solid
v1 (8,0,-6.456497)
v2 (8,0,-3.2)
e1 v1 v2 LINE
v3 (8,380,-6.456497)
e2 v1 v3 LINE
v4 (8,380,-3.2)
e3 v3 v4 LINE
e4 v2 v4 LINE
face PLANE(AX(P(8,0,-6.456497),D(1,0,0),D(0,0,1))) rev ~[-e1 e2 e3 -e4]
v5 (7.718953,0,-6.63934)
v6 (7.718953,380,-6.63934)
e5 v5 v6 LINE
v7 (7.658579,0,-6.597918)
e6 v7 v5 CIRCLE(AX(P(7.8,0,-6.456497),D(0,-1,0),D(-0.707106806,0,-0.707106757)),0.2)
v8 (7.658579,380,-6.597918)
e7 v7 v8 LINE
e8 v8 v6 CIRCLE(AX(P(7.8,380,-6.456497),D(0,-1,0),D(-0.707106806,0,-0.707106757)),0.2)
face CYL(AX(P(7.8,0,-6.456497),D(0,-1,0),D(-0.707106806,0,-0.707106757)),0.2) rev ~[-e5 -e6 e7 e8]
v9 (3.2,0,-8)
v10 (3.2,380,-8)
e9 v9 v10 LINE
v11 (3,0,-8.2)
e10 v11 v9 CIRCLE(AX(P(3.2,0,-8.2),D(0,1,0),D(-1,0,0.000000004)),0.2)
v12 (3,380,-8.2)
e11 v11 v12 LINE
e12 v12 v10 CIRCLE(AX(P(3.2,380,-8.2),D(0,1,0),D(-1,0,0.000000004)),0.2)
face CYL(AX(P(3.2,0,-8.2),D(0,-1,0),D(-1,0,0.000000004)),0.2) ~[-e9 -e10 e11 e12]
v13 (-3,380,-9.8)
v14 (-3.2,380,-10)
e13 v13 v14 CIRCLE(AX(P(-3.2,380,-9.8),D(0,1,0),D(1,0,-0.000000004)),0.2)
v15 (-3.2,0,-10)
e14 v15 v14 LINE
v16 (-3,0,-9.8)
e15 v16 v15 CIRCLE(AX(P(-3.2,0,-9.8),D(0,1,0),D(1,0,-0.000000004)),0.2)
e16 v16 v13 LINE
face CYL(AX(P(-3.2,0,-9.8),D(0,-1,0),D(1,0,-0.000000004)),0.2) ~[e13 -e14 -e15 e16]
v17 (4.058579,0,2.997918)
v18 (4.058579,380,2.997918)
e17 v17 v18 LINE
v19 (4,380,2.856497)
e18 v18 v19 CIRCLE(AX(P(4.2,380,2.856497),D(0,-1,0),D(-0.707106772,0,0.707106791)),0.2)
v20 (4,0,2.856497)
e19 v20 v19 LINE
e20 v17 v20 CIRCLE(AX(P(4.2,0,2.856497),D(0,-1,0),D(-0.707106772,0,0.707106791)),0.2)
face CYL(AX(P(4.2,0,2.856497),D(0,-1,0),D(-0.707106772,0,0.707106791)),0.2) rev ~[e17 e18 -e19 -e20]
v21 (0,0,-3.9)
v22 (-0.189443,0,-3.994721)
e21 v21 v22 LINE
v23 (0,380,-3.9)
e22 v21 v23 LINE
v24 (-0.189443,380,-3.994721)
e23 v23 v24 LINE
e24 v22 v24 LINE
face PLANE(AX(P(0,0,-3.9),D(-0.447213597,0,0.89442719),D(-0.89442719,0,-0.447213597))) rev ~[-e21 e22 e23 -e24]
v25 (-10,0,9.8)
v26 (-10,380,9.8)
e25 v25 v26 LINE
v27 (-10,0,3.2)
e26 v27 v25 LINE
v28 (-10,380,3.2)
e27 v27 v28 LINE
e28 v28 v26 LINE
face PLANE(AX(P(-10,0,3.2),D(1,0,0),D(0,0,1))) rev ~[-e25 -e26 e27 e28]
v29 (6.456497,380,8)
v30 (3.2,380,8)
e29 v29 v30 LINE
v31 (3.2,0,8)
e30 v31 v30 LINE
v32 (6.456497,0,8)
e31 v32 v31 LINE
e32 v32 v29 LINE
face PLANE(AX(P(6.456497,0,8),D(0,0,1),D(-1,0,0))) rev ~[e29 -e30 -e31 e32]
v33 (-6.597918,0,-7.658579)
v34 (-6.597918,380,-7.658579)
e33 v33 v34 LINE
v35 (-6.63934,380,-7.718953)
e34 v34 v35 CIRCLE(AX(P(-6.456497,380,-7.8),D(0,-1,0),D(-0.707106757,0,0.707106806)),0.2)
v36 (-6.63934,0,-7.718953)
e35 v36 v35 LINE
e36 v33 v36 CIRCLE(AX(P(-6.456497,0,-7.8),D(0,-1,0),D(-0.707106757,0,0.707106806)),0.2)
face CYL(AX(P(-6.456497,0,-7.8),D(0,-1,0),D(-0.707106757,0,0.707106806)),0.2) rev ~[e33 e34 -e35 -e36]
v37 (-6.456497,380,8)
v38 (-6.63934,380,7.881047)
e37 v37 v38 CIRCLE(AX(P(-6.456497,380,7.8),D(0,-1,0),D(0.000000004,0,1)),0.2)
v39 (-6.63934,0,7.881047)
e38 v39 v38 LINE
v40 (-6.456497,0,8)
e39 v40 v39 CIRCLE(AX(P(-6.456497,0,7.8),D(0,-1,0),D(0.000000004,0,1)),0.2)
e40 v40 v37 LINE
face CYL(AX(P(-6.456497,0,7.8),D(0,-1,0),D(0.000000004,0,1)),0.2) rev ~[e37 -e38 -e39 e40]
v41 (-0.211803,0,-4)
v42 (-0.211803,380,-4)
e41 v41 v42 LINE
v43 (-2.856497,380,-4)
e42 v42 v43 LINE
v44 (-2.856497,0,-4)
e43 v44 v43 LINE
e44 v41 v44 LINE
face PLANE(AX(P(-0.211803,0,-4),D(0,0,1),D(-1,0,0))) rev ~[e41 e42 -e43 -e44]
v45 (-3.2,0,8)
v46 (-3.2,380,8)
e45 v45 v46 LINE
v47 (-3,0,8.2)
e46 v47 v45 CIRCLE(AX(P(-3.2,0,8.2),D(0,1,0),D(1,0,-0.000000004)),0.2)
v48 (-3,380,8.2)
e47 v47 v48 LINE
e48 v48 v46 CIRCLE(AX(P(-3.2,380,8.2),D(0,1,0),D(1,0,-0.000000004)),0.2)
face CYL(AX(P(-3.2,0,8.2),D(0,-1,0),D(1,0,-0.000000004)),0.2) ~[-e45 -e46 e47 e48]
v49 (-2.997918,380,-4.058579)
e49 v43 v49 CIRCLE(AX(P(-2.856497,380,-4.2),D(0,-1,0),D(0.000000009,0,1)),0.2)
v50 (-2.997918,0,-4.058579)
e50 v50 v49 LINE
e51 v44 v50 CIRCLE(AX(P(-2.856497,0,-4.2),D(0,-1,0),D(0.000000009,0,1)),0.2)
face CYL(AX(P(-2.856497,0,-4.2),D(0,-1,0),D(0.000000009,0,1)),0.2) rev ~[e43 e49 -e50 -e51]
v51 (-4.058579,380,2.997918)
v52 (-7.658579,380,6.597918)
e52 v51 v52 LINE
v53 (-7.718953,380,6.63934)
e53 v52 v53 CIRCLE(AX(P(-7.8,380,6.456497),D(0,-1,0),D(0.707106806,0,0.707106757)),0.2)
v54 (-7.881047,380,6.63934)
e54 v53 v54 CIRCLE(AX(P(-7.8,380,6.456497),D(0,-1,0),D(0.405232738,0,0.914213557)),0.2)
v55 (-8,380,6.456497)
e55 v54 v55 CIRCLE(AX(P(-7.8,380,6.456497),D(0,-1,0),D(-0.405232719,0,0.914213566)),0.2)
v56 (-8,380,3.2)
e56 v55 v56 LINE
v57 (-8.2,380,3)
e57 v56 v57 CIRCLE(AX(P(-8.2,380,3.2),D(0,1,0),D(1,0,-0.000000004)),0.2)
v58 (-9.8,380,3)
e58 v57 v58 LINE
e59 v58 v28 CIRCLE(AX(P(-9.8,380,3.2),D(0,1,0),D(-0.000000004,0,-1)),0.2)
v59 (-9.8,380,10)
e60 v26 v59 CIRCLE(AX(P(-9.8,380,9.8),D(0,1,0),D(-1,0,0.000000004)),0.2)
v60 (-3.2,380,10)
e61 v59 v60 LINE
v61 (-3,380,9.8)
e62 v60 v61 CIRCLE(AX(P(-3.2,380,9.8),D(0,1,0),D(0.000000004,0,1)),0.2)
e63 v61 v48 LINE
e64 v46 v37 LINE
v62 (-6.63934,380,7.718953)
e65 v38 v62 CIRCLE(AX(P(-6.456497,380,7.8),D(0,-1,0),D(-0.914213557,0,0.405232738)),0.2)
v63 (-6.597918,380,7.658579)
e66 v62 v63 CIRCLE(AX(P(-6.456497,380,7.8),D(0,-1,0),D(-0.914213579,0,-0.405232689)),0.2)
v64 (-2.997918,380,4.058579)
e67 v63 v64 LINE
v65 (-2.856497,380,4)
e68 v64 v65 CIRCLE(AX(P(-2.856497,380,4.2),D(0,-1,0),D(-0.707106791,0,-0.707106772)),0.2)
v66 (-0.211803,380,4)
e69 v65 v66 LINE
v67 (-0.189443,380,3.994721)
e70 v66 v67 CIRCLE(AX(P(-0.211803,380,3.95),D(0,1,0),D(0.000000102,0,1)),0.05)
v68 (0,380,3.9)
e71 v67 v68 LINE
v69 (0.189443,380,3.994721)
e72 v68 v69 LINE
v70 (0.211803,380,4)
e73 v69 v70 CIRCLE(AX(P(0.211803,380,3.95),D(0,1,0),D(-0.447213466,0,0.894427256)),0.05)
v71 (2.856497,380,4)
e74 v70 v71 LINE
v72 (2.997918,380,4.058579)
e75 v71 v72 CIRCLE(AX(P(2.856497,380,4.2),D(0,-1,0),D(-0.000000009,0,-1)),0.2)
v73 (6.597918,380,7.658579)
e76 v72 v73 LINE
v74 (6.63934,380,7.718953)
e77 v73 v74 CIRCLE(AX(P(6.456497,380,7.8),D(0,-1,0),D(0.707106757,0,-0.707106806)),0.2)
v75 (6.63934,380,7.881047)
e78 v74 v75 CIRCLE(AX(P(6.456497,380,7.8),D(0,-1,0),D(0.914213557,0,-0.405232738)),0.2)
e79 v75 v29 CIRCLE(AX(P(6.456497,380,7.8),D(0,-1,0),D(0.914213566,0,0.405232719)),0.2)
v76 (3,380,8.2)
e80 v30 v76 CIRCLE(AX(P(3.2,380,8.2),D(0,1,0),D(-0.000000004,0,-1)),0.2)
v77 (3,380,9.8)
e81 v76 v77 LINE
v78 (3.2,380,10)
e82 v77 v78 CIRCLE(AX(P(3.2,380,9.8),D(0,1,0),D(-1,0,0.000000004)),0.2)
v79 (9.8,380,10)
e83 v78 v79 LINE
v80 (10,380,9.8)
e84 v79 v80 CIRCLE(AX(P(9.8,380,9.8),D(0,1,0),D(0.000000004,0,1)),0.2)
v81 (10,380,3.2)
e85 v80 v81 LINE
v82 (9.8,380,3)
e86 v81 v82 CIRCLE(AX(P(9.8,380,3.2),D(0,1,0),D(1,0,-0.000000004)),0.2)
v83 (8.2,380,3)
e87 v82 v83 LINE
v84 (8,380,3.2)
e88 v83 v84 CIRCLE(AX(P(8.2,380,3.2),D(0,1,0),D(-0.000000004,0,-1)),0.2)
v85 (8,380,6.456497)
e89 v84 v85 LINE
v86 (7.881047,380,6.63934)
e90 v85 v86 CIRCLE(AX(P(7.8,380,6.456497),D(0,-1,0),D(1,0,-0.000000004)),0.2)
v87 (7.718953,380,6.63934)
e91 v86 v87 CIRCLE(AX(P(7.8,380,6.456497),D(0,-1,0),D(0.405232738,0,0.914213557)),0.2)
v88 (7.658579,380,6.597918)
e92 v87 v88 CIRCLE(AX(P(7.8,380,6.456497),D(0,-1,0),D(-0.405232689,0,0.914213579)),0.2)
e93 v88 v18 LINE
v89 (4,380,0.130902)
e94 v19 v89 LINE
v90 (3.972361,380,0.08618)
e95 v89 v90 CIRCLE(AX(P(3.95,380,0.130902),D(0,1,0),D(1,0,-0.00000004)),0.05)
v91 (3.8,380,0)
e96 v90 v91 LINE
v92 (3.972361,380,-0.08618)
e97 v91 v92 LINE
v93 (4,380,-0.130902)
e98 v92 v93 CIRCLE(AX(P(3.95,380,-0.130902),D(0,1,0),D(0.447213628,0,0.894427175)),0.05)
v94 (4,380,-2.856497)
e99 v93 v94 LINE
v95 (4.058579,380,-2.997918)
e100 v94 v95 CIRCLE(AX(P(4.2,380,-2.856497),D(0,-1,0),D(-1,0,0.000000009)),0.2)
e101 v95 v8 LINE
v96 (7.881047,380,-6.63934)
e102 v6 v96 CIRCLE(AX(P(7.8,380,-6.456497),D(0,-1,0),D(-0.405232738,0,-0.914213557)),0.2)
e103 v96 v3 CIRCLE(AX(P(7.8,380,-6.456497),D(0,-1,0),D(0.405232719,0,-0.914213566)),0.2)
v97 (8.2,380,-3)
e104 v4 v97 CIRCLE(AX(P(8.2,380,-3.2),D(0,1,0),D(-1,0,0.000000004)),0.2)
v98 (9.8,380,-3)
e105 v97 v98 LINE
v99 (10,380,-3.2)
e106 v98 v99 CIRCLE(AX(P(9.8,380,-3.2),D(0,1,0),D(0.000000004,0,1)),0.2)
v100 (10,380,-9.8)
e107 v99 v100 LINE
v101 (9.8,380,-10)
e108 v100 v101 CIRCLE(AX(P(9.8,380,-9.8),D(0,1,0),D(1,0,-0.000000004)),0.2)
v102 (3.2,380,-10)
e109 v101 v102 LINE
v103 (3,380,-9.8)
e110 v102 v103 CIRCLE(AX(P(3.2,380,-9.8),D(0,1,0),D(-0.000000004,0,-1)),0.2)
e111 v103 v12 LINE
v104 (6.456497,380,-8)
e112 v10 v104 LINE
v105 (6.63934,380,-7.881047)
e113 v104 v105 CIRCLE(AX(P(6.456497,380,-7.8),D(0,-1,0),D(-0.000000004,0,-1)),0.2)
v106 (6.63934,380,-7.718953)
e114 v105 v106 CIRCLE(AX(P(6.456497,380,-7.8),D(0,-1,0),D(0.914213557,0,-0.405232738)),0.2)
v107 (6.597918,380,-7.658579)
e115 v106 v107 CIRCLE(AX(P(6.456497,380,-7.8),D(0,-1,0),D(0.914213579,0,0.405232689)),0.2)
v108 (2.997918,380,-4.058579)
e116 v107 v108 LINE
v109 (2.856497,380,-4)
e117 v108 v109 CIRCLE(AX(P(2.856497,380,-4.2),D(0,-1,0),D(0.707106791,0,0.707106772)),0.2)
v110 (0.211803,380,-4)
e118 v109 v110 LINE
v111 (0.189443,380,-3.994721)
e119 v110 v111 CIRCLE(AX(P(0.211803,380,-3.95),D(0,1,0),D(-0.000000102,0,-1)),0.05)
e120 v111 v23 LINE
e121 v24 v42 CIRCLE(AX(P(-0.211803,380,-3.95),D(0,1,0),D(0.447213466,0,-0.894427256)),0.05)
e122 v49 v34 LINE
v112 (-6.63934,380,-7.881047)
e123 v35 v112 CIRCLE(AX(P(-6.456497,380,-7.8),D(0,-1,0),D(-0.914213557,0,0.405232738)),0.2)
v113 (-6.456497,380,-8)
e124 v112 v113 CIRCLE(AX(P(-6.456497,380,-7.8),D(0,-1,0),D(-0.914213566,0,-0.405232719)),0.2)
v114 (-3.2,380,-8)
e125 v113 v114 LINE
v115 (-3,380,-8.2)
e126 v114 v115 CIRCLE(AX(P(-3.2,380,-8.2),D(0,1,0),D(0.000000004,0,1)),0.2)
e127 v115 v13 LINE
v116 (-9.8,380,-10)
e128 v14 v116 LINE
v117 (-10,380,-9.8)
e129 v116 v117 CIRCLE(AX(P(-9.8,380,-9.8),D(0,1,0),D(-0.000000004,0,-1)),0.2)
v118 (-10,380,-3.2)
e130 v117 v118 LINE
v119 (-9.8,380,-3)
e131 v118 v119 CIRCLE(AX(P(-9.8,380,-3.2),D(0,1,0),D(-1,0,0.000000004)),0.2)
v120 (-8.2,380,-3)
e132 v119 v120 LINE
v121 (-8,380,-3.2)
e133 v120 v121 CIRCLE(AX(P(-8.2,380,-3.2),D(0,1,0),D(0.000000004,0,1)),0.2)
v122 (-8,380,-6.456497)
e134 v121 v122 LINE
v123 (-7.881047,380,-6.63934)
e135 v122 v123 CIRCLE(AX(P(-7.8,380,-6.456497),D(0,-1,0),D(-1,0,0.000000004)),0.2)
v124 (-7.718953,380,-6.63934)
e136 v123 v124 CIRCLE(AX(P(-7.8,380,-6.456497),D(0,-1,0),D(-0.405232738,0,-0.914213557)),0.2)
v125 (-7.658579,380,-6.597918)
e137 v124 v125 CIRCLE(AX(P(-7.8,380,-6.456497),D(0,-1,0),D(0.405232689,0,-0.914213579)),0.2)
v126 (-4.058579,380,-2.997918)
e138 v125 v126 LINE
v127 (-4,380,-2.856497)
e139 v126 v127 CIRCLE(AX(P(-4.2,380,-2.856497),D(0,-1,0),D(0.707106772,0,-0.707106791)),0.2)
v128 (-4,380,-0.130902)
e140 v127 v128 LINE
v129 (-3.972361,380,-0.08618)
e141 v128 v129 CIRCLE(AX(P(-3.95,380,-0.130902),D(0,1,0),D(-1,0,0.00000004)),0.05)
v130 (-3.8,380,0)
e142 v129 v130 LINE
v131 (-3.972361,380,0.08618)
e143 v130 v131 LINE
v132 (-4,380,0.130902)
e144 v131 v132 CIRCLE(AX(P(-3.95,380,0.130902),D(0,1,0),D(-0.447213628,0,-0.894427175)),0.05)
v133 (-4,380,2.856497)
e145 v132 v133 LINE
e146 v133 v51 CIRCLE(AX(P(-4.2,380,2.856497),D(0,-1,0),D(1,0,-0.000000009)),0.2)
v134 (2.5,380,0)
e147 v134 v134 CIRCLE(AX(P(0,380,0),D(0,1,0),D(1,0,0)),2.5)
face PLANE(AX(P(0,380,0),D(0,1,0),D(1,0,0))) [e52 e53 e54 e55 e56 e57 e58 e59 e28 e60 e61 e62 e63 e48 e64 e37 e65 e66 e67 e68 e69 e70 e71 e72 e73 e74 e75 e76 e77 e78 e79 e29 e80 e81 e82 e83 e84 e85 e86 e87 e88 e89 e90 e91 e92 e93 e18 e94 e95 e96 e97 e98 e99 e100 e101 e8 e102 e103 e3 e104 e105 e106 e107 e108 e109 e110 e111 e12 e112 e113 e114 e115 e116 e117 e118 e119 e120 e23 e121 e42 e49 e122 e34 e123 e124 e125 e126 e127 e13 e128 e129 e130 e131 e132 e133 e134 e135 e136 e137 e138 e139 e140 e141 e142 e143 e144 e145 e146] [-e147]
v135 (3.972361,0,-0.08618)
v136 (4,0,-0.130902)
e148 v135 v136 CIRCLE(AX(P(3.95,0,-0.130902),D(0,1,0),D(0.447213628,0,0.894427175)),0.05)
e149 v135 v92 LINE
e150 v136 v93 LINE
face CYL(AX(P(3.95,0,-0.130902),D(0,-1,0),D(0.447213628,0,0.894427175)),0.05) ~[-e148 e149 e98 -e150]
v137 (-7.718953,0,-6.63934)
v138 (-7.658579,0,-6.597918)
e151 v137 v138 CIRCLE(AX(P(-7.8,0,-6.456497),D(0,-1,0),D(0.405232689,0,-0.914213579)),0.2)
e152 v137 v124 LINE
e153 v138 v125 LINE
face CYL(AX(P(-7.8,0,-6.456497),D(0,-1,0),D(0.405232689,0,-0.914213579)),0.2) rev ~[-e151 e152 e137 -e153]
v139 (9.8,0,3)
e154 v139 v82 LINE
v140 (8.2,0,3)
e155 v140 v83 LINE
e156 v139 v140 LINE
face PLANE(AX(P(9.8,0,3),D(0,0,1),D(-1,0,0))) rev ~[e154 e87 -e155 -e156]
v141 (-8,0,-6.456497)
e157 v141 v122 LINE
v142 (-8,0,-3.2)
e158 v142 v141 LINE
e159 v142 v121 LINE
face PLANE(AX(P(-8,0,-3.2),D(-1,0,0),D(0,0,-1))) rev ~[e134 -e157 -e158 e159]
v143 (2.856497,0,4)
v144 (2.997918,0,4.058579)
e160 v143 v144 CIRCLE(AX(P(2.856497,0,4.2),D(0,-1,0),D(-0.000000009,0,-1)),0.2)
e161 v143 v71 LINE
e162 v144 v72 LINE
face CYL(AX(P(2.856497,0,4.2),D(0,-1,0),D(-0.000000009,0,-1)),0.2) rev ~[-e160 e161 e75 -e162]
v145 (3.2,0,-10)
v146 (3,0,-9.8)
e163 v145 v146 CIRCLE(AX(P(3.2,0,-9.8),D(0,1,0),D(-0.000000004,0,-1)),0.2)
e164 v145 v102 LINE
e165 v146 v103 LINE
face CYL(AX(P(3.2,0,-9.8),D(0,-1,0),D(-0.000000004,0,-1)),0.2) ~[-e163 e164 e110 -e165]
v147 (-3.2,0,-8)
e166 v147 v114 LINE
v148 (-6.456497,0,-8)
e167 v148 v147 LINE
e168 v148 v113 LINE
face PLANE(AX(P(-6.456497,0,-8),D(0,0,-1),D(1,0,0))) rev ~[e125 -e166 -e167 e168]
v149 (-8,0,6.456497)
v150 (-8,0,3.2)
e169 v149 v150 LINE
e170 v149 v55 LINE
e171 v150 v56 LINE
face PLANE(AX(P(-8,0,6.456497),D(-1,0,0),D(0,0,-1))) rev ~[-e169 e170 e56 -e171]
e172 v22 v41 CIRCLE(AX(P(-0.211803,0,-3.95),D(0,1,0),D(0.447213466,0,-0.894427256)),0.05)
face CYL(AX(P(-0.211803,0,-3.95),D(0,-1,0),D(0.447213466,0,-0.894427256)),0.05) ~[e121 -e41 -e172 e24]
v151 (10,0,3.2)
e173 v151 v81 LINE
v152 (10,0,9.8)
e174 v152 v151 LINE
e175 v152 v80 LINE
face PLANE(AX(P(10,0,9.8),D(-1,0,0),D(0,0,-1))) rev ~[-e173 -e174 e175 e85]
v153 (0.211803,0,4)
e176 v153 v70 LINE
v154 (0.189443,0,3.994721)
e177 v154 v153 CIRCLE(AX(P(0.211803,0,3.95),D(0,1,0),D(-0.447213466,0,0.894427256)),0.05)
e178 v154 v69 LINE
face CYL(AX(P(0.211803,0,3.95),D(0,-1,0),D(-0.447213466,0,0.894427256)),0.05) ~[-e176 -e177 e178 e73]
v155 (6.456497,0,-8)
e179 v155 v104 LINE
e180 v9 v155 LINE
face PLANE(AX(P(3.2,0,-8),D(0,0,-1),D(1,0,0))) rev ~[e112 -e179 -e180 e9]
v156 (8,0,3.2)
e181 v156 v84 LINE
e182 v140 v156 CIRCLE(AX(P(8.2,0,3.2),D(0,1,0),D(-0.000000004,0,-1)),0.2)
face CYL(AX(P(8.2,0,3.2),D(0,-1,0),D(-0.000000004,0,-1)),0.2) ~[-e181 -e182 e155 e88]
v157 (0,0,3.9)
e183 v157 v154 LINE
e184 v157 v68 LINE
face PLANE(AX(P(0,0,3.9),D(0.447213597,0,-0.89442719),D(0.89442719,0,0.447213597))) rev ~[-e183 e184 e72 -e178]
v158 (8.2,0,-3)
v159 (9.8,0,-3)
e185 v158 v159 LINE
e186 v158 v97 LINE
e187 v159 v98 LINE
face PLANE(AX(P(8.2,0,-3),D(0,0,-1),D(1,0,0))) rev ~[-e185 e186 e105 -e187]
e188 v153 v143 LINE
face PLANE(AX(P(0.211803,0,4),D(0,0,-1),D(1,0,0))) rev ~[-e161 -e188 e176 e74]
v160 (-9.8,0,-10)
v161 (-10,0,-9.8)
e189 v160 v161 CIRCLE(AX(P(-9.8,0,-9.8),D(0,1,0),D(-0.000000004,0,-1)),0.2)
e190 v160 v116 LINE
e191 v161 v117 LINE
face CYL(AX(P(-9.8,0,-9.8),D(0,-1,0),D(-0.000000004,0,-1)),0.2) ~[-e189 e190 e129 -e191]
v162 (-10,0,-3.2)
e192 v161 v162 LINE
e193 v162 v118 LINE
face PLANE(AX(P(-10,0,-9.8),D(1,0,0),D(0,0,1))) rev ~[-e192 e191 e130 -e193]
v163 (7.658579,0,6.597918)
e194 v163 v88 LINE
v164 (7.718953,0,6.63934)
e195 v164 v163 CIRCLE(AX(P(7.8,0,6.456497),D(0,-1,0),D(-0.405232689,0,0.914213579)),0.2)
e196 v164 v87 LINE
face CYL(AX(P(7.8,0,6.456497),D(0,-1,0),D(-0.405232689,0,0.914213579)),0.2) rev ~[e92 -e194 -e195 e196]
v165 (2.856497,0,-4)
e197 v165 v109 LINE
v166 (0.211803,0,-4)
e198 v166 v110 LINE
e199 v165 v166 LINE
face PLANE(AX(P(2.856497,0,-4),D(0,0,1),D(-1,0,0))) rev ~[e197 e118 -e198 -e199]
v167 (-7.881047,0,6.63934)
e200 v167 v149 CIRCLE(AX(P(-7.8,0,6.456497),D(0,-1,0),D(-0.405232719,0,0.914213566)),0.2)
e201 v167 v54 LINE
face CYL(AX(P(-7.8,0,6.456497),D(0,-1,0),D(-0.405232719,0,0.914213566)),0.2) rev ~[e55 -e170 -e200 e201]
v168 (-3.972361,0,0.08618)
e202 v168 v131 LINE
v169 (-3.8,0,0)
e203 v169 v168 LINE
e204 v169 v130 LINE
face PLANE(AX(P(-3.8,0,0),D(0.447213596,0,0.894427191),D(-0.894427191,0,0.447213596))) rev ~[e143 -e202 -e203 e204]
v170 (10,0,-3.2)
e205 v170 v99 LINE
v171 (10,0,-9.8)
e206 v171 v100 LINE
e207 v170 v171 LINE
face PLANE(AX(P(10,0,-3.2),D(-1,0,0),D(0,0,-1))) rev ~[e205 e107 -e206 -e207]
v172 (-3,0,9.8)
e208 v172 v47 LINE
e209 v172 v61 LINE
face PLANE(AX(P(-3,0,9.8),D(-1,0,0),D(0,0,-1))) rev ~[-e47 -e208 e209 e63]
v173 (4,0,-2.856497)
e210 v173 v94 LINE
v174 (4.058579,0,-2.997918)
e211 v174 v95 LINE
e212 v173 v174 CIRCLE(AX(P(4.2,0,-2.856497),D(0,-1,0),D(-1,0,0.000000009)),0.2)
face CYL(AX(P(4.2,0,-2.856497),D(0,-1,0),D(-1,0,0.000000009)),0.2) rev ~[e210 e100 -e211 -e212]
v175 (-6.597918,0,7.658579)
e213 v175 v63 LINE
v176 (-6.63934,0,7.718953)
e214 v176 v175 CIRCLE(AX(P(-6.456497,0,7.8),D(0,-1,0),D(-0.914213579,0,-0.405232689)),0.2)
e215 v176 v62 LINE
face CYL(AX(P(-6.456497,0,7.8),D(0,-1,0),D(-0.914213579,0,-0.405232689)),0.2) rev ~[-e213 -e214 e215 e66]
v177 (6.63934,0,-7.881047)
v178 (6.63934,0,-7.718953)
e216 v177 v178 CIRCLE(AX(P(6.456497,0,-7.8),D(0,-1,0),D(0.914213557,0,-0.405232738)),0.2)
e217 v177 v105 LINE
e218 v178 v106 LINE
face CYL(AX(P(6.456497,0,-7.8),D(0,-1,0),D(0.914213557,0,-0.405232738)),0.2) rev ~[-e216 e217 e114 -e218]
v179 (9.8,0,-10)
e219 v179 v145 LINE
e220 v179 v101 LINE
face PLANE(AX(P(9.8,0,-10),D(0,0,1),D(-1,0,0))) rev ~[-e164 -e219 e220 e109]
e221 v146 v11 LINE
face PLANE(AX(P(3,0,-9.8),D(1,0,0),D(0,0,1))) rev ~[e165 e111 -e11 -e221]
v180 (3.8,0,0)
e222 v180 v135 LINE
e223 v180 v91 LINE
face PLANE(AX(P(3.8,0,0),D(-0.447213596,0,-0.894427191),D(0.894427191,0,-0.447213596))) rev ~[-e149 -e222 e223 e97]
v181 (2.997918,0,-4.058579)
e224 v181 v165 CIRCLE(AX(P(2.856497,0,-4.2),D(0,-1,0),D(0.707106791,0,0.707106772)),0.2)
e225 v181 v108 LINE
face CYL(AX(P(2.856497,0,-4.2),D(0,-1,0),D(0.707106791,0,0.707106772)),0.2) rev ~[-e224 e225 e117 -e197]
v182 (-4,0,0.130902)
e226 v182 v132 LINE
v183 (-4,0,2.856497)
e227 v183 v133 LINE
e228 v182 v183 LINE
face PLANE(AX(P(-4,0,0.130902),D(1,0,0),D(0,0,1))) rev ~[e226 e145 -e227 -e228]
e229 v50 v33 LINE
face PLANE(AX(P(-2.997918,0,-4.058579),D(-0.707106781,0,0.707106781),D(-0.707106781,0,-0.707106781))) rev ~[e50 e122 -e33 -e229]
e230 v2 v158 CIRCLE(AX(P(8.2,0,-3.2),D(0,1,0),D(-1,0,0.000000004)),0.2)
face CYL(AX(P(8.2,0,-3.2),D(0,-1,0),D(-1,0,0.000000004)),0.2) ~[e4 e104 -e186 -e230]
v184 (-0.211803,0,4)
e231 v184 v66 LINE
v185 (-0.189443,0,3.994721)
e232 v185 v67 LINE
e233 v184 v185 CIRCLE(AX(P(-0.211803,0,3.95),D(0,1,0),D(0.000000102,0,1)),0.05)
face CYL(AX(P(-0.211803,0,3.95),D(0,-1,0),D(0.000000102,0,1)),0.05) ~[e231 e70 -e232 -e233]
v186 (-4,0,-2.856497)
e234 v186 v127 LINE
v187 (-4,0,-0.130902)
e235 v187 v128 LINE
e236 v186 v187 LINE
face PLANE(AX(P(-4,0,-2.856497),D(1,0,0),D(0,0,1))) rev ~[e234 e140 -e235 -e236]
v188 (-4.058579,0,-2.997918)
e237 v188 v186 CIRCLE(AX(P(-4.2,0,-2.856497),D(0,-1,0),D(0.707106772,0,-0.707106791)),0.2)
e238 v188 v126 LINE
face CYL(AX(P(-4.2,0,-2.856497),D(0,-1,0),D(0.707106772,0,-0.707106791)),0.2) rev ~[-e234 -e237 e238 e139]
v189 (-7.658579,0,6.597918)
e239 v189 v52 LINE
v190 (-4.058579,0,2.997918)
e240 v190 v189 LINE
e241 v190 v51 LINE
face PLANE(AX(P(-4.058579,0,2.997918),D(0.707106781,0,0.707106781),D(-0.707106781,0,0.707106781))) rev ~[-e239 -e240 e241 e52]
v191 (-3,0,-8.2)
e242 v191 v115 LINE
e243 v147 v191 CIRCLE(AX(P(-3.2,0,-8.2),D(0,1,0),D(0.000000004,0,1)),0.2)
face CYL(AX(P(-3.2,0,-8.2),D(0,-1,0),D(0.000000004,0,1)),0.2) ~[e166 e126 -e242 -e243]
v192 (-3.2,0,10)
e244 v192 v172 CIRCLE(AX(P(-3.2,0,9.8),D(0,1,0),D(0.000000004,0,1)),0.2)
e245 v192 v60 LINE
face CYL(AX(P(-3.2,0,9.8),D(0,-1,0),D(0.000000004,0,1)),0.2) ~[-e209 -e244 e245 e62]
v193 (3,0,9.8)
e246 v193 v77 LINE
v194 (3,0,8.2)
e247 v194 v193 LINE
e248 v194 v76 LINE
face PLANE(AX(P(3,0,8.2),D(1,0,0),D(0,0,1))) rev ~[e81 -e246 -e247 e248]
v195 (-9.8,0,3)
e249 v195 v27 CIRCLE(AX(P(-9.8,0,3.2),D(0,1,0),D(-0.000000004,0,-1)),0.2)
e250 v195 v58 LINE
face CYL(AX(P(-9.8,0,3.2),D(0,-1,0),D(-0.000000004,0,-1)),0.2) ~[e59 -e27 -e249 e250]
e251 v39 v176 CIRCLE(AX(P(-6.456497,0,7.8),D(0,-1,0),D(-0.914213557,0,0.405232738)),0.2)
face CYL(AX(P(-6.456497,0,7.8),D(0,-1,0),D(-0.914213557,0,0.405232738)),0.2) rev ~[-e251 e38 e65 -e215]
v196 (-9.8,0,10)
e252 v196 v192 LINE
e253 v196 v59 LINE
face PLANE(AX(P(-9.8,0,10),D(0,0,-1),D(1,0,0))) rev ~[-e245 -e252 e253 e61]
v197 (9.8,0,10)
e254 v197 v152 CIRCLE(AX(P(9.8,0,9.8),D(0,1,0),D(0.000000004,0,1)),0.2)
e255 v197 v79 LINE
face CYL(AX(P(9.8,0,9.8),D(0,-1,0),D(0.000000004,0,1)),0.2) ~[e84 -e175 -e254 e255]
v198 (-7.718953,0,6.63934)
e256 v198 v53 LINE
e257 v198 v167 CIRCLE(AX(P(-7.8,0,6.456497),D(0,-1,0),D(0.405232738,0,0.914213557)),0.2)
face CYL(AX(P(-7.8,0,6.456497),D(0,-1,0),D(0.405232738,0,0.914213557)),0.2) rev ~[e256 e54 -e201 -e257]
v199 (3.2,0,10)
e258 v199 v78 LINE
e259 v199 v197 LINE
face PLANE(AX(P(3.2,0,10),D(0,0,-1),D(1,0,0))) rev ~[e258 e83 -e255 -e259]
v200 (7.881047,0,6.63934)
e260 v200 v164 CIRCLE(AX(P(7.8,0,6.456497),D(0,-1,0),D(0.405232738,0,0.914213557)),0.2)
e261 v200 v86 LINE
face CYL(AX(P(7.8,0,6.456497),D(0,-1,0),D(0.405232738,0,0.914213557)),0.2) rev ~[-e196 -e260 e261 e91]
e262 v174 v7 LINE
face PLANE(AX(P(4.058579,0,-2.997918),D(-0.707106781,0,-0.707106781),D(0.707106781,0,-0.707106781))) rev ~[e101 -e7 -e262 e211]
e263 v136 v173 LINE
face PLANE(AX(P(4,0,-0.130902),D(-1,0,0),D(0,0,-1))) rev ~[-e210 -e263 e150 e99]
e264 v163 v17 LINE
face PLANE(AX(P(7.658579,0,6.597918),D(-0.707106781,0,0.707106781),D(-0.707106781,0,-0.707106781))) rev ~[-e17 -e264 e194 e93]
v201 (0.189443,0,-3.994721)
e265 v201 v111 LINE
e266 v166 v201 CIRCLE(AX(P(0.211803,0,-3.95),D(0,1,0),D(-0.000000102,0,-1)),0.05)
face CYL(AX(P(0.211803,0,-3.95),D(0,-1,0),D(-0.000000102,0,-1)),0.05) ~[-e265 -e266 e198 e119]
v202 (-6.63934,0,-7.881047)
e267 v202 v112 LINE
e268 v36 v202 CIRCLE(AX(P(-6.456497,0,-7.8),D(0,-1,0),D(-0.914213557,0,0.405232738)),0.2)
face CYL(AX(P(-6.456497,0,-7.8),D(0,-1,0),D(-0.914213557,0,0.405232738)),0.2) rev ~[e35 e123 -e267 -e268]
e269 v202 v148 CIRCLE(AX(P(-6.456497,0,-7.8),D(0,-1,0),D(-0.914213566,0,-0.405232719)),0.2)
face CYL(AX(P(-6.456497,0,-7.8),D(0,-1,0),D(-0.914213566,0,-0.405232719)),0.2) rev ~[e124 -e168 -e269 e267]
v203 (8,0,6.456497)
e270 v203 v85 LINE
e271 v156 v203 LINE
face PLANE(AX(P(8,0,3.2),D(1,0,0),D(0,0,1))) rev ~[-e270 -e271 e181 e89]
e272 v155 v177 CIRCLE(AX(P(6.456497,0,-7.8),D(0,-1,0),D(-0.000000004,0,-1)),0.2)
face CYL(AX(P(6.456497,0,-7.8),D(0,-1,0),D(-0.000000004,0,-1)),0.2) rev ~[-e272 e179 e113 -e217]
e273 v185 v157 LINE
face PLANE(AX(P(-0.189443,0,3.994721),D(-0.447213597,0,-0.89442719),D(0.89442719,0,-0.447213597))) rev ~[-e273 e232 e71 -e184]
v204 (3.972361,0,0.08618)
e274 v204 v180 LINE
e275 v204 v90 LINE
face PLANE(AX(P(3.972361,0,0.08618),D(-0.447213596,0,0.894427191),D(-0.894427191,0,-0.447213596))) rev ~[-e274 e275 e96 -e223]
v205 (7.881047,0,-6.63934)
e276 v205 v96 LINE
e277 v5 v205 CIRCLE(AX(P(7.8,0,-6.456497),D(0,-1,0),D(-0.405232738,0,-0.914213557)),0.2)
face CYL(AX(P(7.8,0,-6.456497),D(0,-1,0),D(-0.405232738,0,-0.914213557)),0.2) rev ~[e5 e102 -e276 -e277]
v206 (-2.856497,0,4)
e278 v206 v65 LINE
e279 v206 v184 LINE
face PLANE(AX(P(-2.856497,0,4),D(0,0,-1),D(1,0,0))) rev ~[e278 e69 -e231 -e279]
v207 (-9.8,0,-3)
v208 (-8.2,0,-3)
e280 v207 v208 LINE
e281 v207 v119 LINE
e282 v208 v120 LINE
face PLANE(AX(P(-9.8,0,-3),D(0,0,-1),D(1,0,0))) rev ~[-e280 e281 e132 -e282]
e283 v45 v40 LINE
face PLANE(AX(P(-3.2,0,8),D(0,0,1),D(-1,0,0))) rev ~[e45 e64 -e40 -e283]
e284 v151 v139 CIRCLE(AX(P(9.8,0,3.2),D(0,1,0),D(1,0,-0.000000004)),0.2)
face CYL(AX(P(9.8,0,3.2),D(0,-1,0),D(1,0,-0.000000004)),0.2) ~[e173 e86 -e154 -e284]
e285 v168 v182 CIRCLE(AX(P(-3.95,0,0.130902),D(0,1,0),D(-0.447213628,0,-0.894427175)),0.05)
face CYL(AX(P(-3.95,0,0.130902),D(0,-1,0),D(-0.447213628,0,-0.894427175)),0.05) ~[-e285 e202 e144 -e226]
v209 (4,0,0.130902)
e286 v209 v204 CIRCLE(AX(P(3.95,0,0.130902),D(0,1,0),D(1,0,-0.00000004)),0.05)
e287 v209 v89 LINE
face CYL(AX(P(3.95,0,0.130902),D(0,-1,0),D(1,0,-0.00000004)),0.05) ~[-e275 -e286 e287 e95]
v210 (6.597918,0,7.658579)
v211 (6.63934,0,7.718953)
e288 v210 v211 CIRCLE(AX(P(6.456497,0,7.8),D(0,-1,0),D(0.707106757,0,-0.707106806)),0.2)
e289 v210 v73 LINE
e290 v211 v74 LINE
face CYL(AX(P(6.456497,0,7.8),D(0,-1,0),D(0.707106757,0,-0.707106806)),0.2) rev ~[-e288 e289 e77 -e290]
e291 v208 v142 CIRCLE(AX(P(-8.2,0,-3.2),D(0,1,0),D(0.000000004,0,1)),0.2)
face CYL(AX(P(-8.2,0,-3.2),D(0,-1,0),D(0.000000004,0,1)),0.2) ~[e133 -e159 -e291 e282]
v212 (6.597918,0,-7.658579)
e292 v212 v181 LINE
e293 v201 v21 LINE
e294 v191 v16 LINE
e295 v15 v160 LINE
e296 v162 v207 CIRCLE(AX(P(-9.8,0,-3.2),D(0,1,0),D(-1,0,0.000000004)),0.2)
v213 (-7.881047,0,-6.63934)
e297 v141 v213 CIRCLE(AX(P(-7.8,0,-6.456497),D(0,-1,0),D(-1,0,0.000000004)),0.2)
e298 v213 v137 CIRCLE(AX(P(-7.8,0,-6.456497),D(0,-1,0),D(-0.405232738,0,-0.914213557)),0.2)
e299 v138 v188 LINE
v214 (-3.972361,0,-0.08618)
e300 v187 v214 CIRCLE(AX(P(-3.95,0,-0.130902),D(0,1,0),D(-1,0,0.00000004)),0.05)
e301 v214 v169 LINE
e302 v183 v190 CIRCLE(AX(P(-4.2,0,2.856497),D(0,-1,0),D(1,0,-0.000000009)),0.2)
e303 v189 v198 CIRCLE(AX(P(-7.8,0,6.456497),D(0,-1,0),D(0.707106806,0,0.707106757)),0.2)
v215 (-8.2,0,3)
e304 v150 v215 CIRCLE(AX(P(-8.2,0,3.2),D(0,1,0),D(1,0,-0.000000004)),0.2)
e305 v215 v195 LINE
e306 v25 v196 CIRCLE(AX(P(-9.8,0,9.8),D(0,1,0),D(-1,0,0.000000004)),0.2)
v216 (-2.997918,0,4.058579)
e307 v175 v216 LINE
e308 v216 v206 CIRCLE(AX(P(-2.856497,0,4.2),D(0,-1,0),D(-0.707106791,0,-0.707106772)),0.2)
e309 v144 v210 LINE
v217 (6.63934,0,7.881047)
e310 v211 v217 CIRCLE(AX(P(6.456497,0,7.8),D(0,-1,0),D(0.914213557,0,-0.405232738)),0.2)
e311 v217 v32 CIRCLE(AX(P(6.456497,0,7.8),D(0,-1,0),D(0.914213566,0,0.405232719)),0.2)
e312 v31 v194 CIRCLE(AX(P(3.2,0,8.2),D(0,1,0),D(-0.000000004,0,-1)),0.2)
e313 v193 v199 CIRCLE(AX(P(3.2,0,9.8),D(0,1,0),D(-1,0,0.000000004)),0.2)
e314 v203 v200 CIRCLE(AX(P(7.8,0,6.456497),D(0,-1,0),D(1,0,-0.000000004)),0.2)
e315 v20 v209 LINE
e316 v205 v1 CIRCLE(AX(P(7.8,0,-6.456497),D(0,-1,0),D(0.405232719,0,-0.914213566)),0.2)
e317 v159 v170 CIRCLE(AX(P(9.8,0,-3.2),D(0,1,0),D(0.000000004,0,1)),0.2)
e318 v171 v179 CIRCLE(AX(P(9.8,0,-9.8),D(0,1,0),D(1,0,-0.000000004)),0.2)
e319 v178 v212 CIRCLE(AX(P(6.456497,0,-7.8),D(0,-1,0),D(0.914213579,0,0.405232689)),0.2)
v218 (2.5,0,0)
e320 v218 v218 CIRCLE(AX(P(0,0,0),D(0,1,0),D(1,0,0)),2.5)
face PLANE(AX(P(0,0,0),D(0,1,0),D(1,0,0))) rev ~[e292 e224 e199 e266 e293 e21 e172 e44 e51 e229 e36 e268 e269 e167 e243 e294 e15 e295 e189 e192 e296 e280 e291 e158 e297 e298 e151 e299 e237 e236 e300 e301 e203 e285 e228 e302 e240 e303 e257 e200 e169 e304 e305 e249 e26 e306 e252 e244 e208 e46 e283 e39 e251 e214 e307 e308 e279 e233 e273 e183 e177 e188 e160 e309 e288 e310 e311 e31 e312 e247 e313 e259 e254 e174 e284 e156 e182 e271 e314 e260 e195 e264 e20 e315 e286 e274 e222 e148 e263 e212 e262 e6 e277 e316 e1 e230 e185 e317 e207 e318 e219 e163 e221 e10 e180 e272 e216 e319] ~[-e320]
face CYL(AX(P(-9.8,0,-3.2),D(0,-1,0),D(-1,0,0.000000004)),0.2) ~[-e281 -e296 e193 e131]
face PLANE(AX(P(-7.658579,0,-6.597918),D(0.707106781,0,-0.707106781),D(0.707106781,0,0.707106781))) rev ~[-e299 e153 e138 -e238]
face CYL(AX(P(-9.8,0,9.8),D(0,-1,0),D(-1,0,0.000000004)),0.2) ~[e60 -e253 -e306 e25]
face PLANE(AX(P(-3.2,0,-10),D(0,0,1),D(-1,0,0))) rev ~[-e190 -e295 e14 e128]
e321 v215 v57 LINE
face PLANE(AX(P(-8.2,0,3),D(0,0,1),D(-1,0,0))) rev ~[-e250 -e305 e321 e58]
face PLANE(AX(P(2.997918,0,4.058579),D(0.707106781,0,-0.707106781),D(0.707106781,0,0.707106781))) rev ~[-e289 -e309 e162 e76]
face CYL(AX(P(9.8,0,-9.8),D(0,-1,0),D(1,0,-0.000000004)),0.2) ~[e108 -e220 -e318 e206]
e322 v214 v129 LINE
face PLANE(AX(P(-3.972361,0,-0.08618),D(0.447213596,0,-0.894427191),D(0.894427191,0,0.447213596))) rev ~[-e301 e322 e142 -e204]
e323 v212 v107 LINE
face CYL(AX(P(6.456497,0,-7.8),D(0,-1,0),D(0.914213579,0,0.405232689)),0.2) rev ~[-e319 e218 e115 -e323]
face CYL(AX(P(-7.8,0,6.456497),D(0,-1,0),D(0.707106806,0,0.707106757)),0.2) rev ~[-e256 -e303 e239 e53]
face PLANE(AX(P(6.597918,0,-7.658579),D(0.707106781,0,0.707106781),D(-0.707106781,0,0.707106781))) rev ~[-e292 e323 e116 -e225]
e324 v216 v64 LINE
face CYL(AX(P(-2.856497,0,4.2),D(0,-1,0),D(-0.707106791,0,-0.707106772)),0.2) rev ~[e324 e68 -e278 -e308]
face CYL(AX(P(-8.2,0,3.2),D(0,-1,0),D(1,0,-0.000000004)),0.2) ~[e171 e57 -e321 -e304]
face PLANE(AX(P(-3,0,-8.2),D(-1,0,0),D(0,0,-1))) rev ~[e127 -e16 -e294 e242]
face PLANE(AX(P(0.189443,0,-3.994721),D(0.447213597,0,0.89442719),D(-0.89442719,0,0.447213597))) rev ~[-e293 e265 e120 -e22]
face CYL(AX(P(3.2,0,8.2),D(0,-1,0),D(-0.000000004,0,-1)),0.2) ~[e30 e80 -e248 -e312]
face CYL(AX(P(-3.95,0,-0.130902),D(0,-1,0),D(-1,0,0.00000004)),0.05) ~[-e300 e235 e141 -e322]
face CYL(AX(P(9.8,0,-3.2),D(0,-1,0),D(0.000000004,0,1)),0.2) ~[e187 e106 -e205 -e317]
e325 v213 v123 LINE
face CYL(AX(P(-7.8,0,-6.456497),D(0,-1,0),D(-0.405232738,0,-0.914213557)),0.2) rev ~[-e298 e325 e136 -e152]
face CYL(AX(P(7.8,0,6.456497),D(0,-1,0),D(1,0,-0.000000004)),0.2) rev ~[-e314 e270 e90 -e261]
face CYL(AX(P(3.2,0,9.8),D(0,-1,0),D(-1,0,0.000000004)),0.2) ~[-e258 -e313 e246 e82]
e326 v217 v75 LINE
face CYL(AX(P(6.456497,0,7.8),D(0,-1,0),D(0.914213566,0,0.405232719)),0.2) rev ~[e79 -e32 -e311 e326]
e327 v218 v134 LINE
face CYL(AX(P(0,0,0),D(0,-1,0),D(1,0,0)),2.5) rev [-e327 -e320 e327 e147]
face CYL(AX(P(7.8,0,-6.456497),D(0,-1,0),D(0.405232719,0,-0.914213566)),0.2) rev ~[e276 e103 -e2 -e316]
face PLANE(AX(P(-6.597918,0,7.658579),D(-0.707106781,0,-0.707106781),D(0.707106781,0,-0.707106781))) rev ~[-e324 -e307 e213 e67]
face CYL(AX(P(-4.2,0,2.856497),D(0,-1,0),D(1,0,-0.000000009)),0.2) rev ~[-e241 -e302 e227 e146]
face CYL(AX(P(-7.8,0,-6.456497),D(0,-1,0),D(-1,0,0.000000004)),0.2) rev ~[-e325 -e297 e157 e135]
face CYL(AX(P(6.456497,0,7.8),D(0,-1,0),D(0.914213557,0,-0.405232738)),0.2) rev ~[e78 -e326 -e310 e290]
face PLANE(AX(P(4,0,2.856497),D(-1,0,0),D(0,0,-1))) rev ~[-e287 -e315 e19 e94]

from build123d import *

# Parameters (mm, degrees)
SKETCH1_R           = 2.5
BOSS_EXTRUDE1_DEPTH = 380


with BuildPart() as part:
    # Sketch1 → Boss-Extrude1 (new body)
    with BuildSketch(Plane(origin=(0, 0, 0), x_dir=(1, 0, 0), z_dir=(0, 1, 0))):
        with BuildLine():
            Line((-2.997918472, 4.058578644), (-6.597918472, 7.658578644))
            ThreePointArc((-6.597918472, 7.658578644), (-6.621415508, 7.686854412), (-6.639339828, 7.718953455))
            ThreePointArc((-6.639339828, 7.718953455), (-6.656497116, 7.8), (-6.639339828, 7.881046545))
            ThreePointArc((-6.639339828, 7.881046545), (-6.565562901, 7.967644429), (-6.456497116, 8))
            Line((-6.456497116, 8), (-3.2, 8))
            ThreePointArc((-3.2, 8), (-3.058578644, 8.058578644), (-3, 8.2))
            Line((-3, 8.2), (-3, 9.8))
            ThreePointArc((-3, 9.8), (-3.058578644, 9.941421356), (-3.2, 10))
            Line((-3.2, 10), (-9.8, 10))
            ThreePointArc((-9.8, 10), (-9.941421356, 9.941421356), (-10, 9.8))
            Line((-10, 9.8), (-10, 3.2))
            ThreePointArc((-10, 3.2), (-9.941421356, 3.058578644), (-9.8, 3))
            Line((-9.8, 3), (-8.2, 3))
            ThreePointArc((-8.2, 3), (-8.058578644, 3.058578644), (-8, 3.2))
            Line((-8, 3.2), (-8, 6.456497116))
            ThreePointArc((-8, 6.456497116), (-7.967644429, 6.565562901), (-7.881046545, 6.639339828))
            ThreePointArc((-7.881046545, 6.639339828), (-7.8, 6.656497116), (-7.718953455, 6.639339828))
            ThreePointArc((-7.718953455, 6.639339828), (-7.686854412, 6.621415508), (-7.658578644, 6.597918472))
            Line((-7.658578644, 6.597918472), (-4.058578644, 2.997918472))
            ThreePointArc((-4.058578644, 2.997918472), (-4.015224093, 2.933033802), (-4, 2.856497116))
            Line((-4, 2.856497116), (-4, 0.130901699))
            ThreePointArc((-4, 0.130901699), (-3.99253254, 0.104615144), (-3.97236068, 0.08618034))
            Line((-3.97236068, 0.08618034), (-3.8, 0))
            Line((-3.8, 0), (-3.97236068, -0.08618034))
            ThreePointArc((-3.97236068, -0.08618034), (-3.99253254, -0.104615144), (-4, -0.130901699))
            Line((-4, -0.130901699), (-4, -2.856497116))
            ThreePointArc((-4, -2.856497116), (-4.015224093, -2.933033802), (-4.058578644, -2.997918472))
            Line((-4.058578644, -2.997918472), (-7.658578644, -6.597918472))
            ThreePointArc((-7.658578644, -6.597918472), (-7.686854412, -6.621415508), (-7.718953455, -6.639339828))
            ThreePointArc((-7.718953455, -6.639339828), (-7.8, -6.656497116), (-7.881046545, -6.639339828))
            ThreePointArc((-7.881046545, -6.639339828), (-7.967644429, -6.565562901), (-8, -6.456497116))
            Line((-8, -6.456497116), (-8, -3.2))
            ThreePointArc((-8, -3.2), (-8.058578644, -3.058578644), (-8.2, -3))
            Line((-8.2, -3), (-9.8, -3))
            ThreePointArc((-9.8, -3), (-9.941421356, -3.058578644), (-10, -3.2))
            Line((-10, -3.2), (-10, -9.8))
            ThreePointArc((-10, -9.8), (-9.941421356, -9.941421356), (-9.8, -10))
            Line((-9.8, -10), (-3.2, -10))
            ThreePointArc((-3.2, -10), (-3.058578644, -9.941421356), (-3, -9.8))
            Line((-3, -9.8), (-3, -8.2))
            ThreePointArc((-3, -8.2), (-3.058578644, -8.058578644), (-3.2, -8))
            Line((-3.2, -8), (-6.456497116, -8))
            ThreePointArc((-6.456497116, -8), (-6.565562901, -7.967644429), (-6.639339828, -7.881046545))
            ThreePointArc((-6.639339828, -7.881046545), (-6.656497116, -7.8), (-6.639339828, -7.718953455))
            ThreePointArc((-6.639339828, -7.718953455), (-6.621415508, -7.686854412), (-6.597918472, -7.658578644))
            Line((-6.597918472, -7.658578644), (-2.997918472, -4.058578644))
            ThreePointArc((-2.997918472, -4.058578644), (-2.933033802, -4.015224093), (-2.856497116, -4))
            Line((-2.856497116, -4), (-0.211803399, -4))
            ThreePointArc((-0.211803399, -4), (-0.200315753, -3.998662449), (-0.189442719, -3.99472136))
            Line((-0.189442719, -3.99472136), (0, -3.9))
            Line((0, -3.9), (0.189442719, -3.99472136))
            ThreePointArc((0.189442719, -3.99472136), (0.200315753, -3.998662449), (0.211803399, -4))
            Line((0.211803399, -4), (2.856497116, -4))
            ThreePointArc((2.856497116, -4), (2.933033802, -4.015224093), (2.997918472, -4.058578644))
            Line((2.997918472, -4.058578644), (6.597918472, -7.658578644))
            ThreePointArc((6.597918472, -7.658578644), (6.621415508, -7.686854412), (6.639339828, -7.718953455))
            ThreePointArc((6.639339828, -7.718953455), (6.656497116, -7.8), (6.639339828, -7.881046545))
            ThreePointArc((6.639339828, -7.881046545), (6.565562901, -7.967644429), (6.456497116, -8))
            Line((6.456497116, -8), (3.2, -8))
            ThreePointArc((3.2, -8), (3.058578644, -8.058578644), (3, -8.2))
            Line((3, -8.2), (3, -9.8))
            ThreePointArc((3, -9.8), (3.058578644, -9.941421356), (3.2, -10))
            Line((3.2, -10), (9.8, -10))
            ThreePointArc((9.8, -10), (9.941421356, -9.941421356), (10, -9.8))
            Line((10, -9.8), (10, -3.2))
            ThreePointArc((10, -3.2), (9.941421356, -3.058578644), (9.8, -3))
            Line((9.8, -3), (8.2, -3))
            ThreePointArc((8.2, -3), (8.058578644, -3.058578644), (8, -3.2))
            Line((8, -3.2), (8, -6.456497116))
            ThreePointArc((8, -6.456497116), (7.967644429, -6.565562901), (7.881046545, -6.639339828))
            ThreePointArc((7.881046545, -6.639339828), (7.8, -6.656497116), (7.718953455, -6.639339828))
            ThreePointArc((7.718953455, -6.639339828), (7.686854412, -6.621415508), (7.658578644, -6.597918472))
            Line((7.658578644, -6.597918472), (4.058578644, -2.997918472))
            ThreePointArc((4.058578644, -2.997918472), (4.015224093, -2.933033802), (4, -2.856497116))
            Line((4, -2.856497116), (4, -0.130901699))
            ThreePointArc((4, -0.130901699), (3.99253254, -0.104615144), (3.97236068, -0.08618034))
            Line((3.97236068, -0.08618034), (3.8, 0))
            Line((3.8, 0), (3.97236068, 0.08618034))
            ThreePointArc((3.97236068, 0.08618034), (3.99253254, 0.104615144), (4, 0.130901699))
            Line((4, 0.130901699), (4, 2.856497116))
            ThreePointArc((4, 2.856497116), (4.015224093, 2.933033802), (4.058578644, 2.997918472))
            Line((4.058578644, 2.997918472), (7.658578644, 6.597918472))
            ThreePointArc((7.658578644, 6.597918472), (7.686854412, 6.621415508), (7.718953455, 6.639339828))
            ThreePointArc((7.718953455, 6.639339828), (7.8, 6.656497116), (7.881046545, 6.639339828))
            ThreePointArc((7.881046545, 6.639339828), (7.967644429, 6.565562901), (8, 6.456497116))
            Line((8, 6.456497116), (8, 3.2))
            ThreePointArc((8, 3.2), (8.058578644, 3.058578644), (8.2, 3))
            Line((8.2, 3), (9.8, 3))
            ThreePointArc((9.8, 3), (9.941421356, 3.058578644), (10, 3.2))
            Line((10, 3.2), (10, 9.8))
            ThreePointArc((10, 9.8), (9.941421356, 9.941421356), (9.8, 10))
            Line((9.8, 10), (3.2, 10))
            ThreePointArc((3.2, 10), (3.058578644, 9.941421356), (3, 9.8))
            Line((3, 9.8), (3, 8.2))
            ThreePointArc((3, 8.2), (3.058578644, 8.058578644), (3.2, 8))
            Line((3.2, 8), (6.456497116, 8))
            ThreePointArc((6.456497116, 8), (6.565562901, 7.967644429), (6.639339828, 7.881046545))
            ThreePointArc((6.639339828, 7.881046545), (6.656497116, 7.8), (6.639339828, 7.718953455))
            ThreePointArc((6.639339828, 7.718953455), (6.621415508, 7.686854412), (6.597918472, 7.658578644))
            Line((6.597918472, 7.658578644), (2.997918472, 4.058578644))
            ThreePointArc((2.997918472, 4.058578644), (2.933033802, 4.015224093), (2.856497116, 4))
            Line((2.856497116, 4), (0.211803399, 4))
            ThreePointArc((0.211803399, 4), (0.200315753, 3.998662449), (0.189442719, 3.99472136))
            Line((0.189442719, 3.99472136), (0, 3.9))
            Line((0, 3.9), (-0.189442719, 3.99472136))
            ThreePointArc((-0.189442719, 3.99472136), (-0.200315753, 3.998662449), (-0.211803399, 4))
            Line((-0.211803399, 4), (-2.856497116, 4))
            ThreePointArc((-2.856497116, 4), (-2.933033802, 4.015224093), (-2.997918472, 4.058578644))
        make_face()
        Circle(SKETCH1_R, mode=Mode.SUBTRACT)
    extrude(amount=BOSS_EXTRUDE1_DEPTH)


solid = part.part
